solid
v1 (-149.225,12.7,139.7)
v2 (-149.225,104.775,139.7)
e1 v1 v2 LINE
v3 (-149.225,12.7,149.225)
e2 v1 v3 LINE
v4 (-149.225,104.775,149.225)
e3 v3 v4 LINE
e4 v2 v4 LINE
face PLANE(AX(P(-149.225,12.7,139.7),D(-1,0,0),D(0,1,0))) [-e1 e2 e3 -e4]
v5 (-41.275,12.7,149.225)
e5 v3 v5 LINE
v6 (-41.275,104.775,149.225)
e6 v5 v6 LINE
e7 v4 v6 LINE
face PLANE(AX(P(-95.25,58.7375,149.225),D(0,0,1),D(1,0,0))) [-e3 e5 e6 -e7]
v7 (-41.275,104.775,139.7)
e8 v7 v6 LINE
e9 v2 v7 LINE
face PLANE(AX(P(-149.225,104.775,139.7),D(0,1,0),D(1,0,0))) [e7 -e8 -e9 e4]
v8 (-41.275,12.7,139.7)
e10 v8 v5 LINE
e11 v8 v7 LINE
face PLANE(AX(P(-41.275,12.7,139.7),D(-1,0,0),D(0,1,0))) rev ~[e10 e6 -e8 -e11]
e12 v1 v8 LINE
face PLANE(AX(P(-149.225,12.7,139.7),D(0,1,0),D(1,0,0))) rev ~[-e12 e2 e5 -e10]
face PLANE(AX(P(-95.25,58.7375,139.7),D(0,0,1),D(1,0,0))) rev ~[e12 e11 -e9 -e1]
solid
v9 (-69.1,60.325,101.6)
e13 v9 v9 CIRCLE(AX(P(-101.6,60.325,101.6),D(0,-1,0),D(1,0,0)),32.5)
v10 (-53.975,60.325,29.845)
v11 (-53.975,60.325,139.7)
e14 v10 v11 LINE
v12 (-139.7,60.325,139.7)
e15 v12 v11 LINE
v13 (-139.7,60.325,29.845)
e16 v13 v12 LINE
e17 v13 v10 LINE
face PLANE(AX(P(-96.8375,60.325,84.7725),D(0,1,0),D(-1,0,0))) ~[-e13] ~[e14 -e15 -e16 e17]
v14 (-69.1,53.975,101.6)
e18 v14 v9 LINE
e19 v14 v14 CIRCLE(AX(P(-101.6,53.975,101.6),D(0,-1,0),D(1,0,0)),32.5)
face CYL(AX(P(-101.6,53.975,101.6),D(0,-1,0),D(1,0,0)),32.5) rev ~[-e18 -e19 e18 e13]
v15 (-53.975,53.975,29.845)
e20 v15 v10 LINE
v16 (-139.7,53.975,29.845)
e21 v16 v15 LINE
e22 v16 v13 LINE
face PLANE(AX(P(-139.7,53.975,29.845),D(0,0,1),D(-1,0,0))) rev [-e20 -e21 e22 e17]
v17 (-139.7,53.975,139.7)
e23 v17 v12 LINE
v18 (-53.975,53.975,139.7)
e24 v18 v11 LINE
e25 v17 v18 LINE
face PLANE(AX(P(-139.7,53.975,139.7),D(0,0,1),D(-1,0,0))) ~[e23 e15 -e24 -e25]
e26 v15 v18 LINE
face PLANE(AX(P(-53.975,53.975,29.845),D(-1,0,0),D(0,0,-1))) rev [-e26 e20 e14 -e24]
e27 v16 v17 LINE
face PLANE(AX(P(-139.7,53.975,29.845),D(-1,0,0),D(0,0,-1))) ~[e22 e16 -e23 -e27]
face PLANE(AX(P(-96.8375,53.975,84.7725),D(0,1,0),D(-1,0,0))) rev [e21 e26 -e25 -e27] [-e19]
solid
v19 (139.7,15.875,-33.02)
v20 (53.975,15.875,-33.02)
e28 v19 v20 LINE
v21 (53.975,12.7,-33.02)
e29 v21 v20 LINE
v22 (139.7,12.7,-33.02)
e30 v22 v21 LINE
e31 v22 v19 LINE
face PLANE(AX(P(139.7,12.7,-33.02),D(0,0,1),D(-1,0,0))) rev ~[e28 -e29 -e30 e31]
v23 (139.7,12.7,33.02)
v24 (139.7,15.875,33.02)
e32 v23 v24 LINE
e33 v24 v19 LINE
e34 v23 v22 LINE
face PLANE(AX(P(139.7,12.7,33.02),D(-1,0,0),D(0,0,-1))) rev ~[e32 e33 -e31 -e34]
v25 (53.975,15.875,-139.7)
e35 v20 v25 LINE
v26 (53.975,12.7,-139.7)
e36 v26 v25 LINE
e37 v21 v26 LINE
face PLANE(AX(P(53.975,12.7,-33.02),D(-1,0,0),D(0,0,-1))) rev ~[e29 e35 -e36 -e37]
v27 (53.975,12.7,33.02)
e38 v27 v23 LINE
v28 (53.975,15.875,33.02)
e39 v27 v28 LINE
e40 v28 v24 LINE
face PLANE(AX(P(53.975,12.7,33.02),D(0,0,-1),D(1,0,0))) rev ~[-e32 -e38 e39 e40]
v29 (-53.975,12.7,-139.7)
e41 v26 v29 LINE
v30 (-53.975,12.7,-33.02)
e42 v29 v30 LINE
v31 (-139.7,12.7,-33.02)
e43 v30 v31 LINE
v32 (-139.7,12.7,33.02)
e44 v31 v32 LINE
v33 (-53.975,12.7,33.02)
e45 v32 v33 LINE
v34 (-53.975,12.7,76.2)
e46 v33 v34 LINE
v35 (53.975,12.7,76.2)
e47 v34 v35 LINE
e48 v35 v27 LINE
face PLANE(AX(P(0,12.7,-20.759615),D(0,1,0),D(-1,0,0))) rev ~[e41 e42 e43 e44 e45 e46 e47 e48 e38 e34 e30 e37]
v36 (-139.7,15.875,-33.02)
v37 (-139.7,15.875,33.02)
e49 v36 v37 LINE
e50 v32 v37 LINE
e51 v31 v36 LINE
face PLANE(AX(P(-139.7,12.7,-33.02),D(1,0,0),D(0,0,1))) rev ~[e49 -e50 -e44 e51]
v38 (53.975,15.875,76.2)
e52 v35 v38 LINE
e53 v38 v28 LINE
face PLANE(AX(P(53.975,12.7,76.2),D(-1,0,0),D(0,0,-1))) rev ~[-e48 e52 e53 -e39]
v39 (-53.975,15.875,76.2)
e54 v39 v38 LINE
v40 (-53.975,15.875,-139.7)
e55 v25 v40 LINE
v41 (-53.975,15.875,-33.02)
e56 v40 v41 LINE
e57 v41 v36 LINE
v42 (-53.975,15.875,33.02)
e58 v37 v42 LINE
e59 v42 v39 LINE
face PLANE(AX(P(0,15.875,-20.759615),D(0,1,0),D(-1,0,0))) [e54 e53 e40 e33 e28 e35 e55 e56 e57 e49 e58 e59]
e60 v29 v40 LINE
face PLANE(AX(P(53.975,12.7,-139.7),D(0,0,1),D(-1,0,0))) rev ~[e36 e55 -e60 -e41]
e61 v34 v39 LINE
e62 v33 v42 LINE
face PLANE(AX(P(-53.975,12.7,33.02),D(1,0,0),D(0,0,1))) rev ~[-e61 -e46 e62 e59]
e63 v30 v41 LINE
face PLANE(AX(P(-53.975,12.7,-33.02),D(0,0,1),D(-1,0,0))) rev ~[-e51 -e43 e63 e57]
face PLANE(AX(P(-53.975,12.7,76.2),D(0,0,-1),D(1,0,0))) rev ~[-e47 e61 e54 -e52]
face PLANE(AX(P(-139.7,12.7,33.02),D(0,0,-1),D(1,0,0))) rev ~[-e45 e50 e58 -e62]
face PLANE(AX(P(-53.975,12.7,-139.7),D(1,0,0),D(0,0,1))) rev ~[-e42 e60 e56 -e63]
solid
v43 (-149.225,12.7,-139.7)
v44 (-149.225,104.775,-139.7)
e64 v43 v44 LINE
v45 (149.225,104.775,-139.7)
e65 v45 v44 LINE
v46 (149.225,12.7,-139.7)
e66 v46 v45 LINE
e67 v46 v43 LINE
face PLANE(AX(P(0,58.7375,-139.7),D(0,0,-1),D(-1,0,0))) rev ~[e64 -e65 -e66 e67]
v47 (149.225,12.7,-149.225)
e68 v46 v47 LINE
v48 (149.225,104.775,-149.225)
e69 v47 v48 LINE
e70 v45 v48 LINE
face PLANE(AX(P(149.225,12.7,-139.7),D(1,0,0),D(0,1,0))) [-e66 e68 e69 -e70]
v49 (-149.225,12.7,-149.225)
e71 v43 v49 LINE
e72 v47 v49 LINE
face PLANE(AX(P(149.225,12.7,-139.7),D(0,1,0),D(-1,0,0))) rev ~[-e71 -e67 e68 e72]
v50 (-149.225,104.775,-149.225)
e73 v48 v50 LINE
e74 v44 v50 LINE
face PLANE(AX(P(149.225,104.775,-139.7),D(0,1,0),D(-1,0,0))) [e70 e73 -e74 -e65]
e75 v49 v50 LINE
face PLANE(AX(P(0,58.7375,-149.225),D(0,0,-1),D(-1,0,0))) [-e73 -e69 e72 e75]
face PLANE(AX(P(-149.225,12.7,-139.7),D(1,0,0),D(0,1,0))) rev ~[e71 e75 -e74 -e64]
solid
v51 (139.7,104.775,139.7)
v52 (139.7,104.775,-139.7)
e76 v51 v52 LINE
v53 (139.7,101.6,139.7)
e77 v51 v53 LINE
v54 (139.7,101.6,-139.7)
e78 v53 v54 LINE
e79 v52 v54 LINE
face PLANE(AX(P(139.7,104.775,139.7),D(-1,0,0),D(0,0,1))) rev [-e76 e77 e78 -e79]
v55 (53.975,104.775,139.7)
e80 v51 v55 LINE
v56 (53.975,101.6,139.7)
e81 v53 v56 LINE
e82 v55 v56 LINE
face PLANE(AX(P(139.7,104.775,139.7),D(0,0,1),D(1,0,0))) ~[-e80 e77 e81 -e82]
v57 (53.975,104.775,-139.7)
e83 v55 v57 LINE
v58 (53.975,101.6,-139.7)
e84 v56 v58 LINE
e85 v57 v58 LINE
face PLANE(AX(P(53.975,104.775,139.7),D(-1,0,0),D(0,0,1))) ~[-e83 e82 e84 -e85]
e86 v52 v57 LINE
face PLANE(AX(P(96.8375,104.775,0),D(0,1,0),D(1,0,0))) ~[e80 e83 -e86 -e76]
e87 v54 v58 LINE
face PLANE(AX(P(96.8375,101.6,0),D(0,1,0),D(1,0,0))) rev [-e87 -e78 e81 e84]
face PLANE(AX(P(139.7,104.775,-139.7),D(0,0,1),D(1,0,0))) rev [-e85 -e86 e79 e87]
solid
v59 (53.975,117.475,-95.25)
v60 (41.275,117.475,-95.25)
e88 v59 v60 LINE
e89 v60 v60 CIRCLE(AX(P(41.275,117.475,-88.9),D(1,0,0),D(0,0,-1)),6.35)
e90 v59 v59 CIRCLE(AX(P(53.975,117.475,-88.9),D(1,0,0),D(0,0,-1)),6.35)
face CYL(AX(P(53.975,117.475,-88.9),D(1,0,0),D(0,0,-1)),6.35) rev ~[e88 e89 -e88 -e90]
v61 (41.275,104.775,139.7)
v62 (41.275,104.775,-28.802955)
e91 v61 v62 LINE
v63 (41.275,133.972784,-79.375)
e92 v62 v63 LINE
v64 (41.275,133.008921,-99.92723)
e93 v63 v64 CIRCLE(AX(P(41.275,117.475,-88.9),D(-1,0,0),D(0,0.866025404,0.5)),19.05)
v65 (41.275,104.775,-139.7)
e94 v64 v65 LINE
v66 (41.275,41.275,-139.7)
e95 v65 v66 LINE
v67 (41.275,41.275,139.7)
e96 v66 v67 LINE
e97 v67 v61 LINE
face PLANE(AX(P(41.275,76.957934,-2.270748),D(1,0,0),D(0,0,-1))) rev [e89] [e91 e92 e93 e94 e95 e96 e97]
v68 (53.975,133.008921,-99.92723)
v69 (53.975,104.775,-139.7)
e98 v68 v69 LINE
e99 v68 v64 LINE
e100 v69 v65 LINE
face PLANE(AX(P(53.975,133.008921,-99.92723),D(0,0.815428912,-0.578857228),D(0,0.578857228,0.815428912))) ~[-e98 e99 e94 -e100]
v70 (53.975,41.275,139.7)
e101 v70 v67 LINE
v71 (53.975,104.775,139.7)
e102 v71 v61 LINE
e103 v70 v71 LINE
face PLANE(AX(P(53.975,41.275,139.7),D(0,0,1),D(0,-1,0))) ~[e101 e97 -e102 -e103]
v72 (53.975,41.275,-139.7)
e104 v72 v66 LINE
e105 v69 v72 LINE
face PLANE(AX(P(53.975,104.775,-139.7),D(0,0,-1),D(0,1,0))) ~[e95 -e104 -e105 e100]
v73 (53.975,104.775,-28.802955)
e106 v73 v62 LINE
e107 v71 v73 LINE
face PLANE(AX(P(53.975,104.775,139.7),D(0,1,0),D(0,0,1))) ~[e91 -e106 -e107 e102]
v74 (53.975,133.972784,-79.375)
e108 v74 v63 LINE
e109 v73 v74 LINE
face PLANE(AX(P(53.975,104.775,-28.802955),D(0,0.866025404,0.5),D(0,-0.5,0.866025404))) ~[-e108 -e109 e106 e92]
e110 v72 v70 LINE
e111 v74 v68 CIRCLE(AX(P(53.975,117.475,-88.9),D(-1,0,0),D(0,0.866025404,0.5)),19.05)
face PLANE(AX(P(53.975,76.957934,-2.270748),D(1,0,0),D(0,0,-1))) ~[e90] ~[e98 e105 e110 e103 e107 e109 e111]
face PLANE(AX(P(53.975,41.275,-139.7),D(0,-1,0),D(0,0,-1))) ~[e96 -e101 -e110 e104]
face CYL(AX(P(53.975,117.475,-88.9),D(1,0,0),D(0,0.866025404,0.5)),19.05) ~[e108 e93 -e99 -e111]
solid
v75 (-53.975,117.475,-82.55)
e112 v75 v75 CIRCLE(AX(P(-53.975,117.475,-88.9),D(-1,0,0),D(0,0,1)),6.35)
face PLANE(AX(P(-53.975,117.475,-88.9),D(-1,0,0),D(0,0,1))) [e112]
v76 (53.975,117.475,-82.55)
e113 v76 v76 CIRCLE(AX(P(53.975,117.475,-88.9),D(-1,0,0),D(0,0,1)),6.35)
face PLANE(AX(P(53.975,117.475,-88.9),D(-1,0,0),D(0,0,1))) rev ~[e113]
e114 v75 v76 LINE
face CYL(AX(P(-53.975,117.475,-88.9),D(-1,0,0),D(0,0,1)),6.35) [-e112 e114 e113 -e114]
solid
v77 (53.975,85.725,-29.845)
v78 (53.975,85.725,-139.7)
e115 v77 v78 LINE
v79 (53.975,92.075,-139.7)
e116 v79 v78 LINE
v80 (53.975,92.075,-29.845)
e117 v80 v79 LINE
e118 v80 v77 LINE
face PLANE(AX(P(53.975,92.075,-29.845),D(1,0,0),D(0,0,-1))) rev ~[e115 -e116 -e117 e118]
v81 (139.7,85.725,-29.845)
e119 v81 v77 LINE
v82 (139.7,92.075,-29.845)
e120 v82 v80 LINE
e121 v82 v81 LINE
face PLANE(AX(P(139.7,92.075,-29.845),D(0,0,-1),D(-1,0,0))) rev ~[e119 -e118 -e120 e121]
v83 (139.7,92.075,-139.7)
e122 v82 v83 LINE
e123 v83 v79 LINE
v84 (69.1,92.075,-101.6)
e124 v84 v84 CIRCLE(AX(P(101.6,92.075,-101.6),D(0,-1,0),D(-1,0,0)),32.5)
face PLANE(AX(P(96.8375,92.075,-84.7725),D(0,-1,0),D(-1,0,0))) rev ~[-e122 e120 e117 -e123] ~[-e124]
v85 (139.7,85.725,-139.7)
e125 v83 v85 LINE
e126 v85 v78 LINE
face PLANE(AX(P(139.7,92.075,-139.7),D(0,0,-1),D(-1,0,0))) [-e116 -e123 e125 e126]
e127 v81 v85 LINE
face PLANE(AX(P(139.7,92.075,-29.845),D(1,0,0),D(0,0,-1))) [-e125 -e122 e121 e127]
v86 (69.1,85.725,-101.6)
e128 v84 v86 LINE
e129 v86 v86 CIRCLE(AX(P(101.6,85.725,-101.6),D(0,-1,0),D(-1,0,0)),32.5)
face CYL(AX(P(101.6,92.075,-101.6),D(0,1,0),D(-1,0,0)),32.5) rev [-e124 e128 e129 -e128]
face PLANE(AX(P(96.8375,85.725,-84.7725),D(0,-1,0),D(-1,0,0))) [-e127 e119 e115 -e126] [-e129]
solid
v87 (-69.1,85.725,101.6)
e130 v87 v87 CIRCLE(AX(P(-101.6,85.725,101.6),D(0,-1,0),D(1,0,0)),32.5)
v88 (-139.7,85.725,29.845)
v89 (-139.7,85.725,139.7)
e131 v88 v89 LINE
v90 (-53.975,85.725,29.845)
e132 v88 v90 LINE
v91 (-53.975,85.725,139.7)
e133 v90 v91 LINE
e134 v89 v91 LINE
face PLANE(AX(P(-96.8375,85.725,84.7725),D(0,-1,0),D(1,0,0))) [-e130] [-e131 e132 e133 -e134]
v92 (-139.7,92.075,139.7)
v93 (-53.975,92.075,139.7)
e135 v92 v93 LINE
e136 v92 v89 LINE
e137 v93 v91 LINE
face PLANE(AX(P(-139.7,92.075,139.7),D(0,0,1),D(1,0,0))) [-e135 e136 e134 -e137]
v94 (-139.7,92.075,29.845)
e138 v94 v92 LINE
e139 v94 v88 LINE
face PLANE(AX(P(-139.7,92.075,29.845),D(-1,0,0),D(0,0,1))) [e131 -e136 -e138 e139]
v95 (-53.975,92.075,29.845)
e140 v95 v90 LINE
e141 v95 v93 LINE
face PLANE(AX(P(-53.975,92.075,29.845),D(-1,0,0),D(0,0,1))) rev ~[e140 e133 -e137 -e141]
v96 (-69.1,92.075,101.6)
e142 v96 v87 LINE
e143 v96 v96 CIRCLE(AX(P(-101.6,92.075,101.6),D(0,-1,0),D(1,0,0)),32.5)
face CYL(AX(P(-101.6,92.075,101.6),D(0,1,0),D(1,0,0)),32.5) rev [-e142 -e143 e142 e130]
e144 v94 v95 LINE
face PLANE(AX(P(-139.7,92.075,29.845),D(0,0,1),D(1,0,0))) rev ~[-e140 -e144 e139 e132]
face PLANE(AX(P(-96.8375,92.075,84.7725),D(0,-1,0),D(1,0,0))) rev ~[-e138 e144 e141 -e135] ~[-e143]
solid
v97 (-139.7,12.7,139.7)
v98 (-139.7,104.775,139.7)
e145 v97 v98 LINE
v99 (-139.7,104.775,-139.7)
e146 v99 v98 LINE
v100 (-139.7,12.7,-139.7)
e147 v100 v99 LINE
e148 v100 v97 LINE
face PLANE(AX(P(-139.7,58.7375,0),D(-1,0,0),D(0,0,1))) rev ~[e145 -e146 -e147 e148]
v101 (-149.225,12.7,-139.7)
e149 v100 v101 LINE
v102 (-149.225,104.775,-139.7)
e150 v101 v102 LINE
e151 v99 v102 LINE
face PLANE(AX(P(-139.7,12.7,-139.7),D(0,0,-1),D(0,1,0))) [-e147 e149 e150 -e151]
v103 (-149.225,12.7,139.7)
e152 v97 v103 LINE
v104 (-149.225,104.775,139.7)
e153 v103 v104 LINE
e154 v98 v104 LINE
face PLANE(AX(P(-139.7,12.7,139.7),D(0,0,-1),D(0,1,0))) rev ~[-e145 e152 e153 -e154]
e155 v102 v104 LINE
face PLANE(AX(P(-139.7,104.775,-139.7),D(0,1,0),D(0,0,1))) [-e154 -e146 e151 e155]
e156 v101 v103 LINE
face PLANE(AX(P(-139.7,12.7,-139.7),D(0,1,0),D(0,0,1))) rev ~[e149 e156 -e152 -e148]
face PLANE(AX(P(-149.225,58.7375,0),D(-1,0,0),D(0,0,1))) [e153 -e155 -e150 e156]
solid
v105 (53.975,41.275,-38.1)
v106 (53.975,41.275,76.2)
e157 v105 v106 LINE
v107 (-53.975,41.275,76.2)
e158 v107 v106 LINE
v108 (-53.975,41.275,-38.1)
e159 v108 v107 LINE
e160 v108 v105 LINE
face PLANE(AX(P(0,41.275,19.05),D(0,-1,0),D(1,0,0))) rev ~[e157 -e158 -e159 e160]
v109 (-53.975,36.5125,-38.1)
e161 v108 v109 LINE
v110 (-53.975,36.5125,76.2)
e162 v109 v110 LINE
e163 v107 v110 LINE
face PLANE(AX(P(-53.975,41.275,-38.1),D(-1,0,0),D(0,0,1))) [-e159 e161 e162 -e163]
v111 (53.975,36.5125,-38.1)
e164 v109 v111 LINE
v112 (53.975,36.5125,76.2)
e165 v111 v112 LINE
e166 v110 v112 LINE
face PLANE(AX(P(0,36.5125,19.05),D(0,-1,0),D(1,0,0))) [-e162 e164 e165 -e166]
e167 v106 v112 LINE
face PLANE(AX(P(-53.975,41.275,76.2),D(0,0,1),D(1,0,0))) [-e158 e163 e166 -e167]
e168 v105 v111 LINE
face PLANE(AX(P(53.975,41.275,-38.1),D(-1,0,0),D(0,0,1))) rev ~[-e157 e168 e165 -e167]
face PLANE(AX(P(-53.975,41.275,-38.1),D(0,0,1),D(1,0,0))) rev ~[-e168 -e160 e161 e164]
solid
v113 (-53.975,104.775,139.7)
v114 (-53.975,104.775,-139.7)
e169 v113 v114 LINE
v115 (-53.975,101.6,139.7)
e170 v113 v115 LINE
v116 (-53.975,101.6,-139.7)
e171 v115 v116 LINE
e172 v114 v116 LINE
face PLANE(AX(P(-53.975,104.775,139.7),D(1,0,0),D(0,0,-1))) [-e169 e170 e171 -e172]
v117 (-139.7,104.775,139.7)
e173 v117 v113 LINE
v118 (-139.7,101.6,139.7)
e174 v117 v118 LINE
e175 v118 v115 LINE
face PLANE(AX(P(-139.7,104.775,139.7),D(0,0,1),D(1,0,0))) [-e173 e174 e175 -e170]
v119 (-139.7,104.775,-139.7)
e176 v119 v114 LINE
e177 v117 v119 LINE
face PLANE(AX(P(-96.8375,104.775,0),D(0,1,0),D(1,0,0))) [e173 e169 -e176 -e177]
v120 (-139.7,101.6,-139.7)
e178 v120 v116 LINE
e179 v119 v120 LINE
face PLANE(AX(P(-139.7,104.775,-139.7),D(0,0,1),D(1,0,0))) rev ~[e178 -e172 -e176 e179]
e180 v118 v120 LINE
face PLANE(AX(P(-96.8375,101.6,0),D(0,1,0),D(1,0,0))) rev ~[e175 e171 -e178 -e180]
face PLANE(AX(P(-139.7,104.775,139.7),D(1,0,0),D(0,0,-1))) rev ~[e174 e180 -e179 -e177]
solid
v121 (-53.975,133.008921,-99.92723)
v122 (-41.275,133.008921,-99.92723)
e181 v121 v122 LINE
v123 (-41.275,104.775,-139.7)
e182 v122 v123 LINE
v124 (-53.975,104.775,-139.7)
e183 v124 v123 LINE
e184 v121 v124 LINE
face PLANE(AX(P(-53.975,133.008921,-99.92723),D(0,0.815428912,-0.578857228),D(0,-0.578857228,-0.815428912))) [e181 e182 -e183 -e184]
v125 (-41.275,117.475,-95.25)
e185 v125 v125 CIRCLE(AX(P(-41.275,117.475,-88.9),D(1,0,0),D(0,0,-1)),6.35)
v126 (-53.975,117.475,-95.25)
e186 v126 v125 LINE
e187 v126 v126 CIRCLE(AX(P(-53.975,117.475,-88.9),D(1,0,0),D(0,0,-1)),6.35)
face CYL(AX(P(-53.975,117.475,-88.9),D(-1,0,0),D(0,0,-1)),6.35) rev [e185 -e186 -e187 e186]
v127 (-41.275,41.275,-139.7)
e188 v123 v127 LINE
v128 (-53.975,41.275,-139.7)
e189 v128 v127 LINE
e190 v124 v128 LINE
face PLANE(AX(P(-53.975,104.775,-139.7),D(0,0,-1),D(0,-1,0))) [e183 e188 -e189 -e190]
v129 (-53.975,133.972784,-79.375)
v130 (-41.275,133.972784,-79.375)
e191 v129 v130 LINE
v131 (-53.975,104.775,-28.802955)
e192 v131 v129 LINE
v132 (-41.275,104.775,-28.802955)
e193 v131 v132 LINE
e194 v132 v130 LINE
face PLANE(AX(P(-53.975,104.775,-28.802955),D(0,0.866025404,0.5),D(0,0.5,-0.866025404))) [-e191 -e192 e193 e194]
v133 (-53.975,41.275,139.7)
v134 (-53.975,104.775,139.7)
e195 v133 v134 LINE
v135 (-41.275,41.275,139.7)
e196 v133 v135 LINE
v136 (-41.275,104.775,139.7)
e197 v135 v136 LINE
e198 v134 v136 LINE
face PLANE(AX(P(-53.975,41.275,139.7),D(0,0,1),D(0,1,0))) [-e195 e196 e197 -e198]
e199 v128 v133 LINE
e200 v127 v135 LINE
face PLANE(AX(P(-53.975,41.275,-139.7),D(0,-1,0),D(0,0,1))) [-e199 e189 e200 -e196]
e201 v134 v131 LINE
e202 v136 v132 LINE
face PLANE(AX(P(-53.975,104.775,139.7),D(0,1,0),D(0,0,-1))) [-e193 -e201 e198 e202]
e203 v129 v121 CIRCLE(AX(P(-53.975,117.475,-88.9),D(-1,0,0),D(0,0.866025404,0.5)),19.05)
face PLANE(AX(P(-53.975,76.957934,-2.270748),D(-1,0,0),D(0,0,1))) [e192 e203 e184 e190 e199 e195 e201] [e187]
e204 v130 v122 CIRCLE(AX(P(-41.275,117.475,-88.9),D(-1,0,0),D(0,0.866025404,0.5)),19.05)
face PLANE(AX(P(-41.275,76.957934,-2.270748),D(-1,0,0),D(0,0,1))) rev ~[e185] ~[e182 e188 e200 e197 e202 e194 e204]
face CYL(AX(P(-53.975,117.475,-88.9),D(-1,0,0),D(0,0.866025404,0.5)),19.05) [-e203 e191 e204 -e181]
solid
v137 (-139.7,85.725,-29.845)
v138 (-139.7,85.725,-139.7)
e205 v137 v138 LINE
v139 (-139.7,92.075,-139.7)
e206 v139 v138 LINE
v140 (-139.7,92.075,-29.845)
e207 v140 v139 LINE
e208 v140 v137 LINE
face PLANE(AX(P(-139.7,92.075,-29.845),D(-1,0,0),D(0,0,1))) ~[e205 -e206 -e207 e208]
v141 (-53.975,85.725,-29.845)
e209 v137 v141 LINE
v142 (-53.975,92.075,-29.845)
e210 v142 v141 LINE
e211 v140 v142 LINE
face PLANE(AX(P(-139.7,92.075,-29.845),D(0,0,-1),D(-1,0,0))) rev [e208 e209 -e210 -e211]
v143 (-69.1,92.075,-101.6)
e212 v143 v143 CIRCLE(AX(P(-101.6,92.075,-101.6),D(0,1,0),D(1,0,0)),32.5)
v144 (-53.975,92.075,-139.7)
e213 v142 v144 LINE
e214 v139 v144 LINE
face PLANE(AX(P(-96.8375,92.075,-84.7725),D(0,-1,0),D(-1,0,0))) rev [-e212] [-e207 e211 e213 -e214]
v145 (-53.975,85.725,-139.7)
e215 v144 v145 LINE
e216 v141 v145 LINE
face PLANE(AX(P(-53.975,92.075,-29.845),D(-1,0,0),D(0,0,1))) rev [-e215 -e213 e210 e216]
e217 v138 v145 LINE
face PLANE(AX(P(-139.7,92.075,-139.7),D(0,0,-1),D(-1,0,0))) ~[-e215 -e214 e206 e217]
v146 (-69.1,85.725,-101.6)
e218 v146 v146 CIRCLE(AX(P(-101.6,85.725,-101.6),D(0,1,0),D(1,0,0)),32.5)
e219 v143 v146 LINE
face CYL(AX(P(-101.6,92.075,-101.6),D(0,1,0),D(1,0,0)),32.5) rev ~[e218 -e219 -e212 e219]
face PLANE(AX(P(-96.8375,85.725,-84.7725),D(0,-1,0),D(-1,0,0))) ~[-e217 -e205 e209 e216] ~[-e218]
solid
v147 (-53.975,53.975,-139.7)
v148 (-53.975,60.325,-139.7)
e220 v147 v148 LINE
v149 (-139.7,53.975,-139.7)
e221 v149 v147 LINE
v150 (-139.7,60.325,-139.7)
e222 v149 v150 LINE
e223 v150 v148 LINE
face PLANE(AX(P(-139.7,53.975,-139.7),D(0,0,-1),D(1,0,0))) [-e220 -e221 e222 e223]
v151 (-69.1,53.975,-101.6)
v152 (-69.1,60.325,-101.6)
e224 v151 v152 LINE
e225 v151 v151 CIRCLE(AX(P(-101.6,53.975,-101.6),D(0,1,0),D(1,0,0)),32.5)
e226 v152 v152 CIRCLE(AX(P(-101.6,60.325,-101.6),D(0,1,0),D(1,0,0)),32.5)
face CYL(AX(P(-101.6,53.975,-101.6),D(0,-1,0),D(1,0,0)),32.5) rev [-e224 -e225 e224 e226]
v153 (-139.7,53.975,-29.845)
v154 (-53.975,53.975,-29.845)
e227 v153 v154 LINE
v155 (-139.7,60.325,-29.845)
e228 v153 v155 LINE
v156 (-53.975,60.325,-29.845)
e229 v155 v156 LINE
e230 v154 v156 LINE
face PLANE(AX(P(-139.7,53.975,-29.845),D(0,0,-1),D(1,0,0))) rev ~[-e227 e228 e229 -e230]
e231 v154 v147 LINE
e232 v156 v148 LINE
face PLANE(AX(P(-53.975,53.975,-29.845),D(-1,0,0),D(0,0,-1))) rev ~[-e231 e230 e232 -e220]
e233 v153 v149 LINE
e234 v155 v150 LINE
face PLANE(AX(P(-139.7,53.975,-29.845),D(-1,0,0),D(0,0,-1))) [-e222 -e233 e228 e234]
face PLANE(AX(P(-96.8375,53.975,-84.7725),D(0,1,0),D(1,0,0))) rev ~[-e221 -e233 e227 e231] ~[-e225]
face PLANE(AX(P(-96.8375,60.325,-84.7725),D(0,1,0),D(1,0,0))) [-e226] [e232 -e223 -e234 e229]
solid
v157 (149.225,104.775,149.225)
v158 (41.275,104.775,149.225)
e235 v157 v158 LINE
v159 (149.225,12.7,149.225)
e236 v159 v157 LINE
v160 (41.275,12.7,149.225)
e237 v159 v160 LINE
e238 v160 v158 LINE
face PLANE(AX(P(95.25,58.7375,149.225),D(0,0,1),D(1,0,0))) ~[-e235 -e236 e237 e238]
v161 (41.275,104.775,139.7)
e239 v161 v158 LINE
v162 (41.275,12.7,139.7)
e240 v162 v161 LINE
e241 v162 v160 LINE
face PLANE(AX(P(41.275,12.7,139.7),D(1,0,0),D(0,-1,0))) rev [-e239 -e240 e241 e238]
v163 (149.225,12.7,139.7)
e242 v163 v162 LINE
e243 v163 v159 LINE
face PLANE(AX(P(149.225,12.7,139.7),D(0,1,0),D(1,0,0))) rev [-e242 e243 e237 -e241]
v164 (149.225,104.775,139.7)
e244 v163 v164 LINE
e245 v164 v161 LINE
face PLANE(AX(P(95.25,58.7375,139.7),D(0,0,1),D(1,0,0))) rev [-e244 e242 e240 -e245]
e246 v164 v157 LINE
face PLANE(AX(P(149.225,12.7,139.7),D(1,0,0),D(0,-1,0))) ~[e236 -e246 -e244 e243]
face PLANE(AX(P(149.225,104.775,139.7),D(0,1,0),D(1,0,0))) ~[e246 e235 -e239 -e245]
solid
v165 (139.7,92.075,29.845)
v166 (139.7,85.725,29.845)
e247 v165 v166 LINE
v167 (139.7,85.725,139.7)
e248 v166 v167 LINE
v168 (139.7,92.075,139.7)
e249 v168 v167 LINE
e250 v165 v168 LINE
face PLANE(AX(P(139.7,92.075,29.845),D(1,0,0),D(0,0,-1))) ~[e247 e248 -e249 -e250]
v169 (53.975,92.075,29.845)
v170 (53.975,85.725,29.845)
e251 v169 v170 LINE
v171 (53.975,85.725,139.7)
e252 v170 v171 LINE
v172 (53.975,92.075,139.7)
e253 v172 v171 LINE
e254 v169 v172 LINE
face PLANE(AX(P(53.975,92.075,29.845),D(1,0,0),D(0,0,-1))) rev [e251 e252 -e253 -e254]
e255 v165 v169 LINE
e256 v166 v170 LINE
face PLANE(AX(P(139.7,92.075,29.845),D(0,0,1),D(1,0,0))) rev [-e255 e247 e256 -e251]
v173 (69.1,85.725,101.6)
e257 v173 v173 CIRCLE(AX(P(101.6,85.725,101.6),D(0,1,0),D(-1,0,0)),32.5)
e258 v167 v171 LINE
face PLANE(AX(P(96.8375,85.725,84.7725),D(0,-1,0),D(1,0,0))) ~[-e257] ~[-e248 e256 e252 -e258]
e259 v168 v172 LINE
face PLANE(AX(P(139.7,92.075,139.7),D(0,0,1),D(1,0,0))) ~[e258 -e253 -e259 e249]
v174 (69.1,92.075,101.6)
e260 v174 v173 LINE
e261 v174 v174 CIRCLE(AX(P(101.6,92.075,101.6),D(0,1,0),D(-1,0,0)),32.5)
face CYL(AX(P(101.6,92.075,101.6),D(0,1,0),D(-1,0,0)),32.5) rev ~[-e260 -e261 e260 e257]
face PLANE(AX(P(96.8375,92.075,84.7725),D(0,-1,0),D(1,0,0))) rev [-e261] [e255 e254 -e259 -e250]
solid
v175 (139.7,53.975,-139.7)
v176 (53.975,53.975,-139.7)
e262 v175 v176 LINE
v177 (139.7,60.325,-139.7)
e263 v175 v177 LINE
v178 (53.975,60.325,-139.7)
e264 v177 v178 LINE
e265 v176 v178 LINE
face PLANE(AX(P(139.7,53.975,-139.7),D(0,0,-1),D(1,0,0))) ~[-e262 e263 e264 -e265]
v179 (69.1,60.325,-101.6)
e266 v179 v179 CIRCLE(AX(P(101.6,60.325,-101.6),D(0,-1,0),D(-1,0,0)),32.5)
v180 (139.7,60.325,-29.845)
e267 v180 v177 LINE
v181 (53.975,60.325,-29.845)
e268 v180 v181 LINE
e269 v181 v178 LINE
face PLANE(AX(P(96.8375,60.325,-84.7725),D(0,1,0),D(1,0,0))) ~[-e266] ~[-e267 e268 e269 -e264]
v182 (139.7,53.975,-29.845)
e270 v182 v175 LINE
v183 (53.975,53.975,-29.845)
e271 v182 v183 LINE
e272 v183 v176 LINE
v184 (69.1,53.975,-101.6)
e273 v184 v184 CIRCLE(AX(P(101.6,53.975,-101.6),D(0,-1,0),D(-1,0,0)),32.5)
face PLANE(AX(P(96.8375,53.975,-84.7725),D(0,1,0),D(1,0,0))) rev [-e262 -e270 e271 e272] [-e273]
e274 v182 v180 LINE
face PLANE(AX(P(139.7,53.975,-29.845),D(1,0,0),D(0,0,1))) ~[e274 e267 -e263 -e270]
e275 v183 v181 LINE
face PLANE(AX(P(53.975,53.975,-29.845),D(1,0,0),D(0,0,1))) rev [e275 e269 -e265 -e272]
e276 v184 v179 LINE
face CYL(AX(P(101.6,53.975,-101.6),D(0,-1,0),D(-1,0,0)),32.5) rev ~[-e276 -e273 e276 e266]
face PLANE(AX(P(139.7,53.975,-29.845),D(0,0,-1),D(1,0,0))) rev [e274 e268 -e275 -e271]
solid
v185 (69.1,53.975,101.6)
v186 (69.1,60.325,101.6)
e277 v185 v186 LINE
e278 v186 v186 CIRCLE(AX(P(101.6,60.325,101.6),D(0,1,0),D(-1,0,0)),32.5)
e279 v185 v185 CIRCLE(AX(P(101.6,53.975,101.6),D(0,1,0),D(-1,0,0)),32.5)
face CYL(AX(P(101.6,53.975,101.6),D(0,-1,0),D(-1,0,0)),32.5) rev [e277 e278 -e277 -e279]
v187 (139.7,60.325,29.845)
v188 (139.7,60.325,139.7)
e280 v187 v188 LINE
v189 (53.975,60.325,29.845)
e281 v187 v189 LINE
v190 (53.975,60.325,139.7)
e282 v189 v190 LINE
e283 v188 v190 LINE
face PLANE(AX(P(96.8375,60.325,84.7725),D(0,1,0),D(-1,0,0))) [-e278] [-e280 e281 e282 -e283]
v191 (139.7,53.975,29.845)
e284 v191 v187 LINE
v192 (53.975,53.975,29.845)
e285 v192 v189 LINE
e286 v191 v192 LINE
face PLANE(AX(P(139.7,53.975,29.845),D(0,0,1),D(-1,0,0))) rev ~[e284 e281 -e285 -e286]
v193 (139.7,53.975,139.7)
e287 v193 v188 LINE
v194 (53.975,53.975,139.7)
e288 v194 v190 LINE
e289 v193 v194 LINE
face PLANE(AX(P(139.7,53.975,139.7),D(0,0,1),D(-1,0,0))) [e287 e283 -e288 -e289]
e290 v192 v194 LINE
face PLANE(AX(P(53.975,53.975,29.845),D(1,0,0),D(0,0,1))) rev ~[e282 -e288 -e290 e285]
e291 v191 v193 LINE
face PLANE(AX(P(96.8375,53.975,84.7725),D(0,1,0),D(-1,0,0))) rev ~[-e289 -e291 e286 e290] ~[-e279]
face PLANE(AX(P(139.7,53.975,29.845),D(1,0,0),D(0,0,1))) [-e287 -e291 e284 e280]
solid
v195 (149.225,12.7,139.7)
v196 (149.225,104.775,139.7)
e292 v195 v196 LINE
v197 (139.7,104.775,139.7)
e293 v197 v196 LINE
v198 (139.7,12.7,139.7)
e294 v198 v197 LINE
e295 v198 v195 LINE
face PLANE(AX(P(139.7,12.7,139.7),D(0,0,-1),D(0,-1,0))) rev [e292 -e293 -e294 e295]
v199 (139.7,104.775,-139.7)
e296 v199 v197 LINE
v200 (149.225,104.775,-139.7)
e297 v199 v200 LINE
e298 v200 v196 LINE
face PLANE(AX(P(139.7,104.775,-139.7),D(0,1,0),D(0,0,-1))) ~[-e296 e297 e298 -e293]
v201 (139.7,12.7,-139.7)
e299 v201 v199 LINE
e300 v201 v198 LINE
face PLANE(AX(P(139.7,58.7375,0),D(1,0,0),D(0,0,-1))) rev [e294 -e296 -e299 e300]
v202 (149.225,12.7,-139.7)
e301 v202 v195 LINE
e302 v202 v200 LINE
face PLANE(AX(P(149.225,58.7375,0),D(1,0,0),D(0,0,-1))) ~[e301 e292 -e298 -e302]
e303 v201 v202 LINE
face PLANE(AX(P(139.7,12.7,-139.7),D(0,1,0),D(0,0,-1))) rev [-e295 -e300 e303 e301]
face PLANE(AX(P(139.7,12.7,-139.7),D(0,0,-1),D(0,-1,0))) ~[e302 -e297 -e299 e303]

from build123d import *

# Parameters (mm, degrees)
SKETCH3_W           = 85.725
SKETCH3_H           = 109.855
SKETCH3_R           = 32.5
BOSS_EXTRUDE1_DEPTH = 6.35
SKETCH7_R           = 6.35
BOSS_EXTRUDE2_DEPTH = 12.7
SKETCH8_W           = 107.95
SKETCH8_H           = 92.075
BOSS_EXTRUDE3_DEPTH = 9.525
SKETCH10_W          = 279.4
SKETCH10_H          = 92.075
BOSS_EXTRUDE4_DEPTH = 9.525
SKETCH13_W          = 85.725
SKETCH13_H          = 279.4
BOSS_EXTRUDE7_DEPTH = 3.175
SKETCH11_W          = 298.45
SKETCH11_H          = 92.075
BOSS_EXTRUDE5_DEPTH = 9.525
SKETCH12_W          = 107.95
SKETCH12_H          = 114.3
BOSS_EXTRUDE6_DEPTH = 4.7625
BOSS_EXTRUDE8_DEPTH = 3.175
SKETCH15_R          = 6.35
BOSS_EXTRUDE9_DEPTH = 107.95


with BuildPart() as part:
    # Sketch3 → Boss-Extrude1 (new body)
    with BuildSketch(Plane(origin=(0, 53.975, 0), x_dir=(1, 0, 0), z_dir=(0, 1, 0))):
        with Locations((-96.8375, 84.7725)):
            Rectangle(SKETCH3_W, SKETCH3_H)
        with Locations((-101.6, 101.6)):
            Circle(SKETCH3_R, mode=Mode.SUBTRACT)
    extrude(amount=BOSS_EXTRUDE1_DEPTH)


with BuildPart() as body_2:
    # Mirror1: mirrored copy
    add(part.part.mirror(Plane.ZX.offset(73.025)))


with BuildPart() as body_3:
    # Mirror2: mirrored copy
    add(part.part.mirror(Plane.XY))


with BuildPart() as body_4:
    # Mirror2 2: mirrored copy
    add(body_2.part.mirror(Plane.XY))


with BuildPart() as body_5:
    # Sketch7 → Boss-Extrude2 (new body)
    with BuildSketch(Plane(origin=(-53.975, 0, 0), x_dir=(0, 0, -1), z_dir=(1, 0, 0))):
        with BuildLine():
            Line((99.927230191, 133.008920764), (139.7, 104.775))
            Line((139.7, 104.775), (139.7, 41.275))
            Line((139.7, 41.275), (-139.7, 41.275))
            Line((-139.7, 41.275), (-139.7, 104.775))
            Line((-139.7, 104.775), (28.802954744, 104.775))
            Line((28.802954744, 104.775), (79.375, 133.972783942))
            ThreePointArc((79.375, 133.972783942), (89.792430358, 136.504084793), (99.927230191, 133.008920764))
        make_face()
        with Locations((88.9, 117.475)):
            Circle(SKETCH7_R, mode=Mode.SUBTRACT)
    extrude(amount=BOSS_EXTRUDE2_DEPTH)


with BuildPart() as body_6:
    # Sketch8 → Boss-Extrude3 (new body)
    with BuildSketch(Plane.XY.offset(139.7)):
        with Locations((-95.25, 58.7375)):
            Rectangle(SKETCH8_W, SKETCH8_H)
    extrude(amount=BOSS_EXTRUDE3_DEPTH)


with BuildPart() as body_7:
    # Sketch10 → Boss-Extrude4 (new body)
    with BuildSketch(Plane.ZY.offset(139.7)):
        with Locations((0, 58.7375)):
            Rectangle(SKETCH10_W, SKETCH10_H)
    extrude(amount=BOSS_EXTRUDE4_DEPTH)


with BuildPart() as body_8:
    # Sketch13 → Boss-Extrude7 (new body)
    with BuildSketch(Plane(origin=(0, 104.775, 0), x_dir=(1, 0, 0), z_dir=(0, 1, 0))):
        with Locations((-96.8375, 0)):
            Rectangle(SKETCH13_W, SKETCH13_H)
    extrude(amount=-BOSS_EXTRUDE7_DEPTH)


with BuildPart() as body_9:
    # Mirror3: mirrored copy
    add(body_3.part.mirror(Plane(origin=(0, 0, 0), x_dir=(0, 0, 1), z_dir=(1, 0, 0))))


with BuildPart() as body_10:
    # Mirror3 2: mirrored copy
    add(body_4.part.mirror(Plane(origin=(0, 0, 0), x_dir=(0, 0, 1), z_dir=(1, 0, 0))))


with BuildPart() as body_11:
    # Mirror3 3: mirrored copy
    add(part.part.mirror(Plane(origin=(0, 0, 0), x_dir=(0, 0, 1), z_dir=(1, 0, 0))))


with BuildPart() as body_12:
    # Mirror3 4: mirrored copy
    add(body_2.part.mirror(Plane(origin=(0, 0, 0), x_dir=(0, 0, 1), z_dir=(1, 0, 0))))


with BuildPart() as body_13:
    # Mirror3 5: mirrored copy
    add(body_5.part.mirror(Plane(origin=(0, 0, 0), x_dir=(0, 0, 1), z_dir=(1, 0, 0))))


with BuildPart() as body_14:
    # Mirror3 6: mirrored copy
    add(body_7.part.mirror(Plane(origin=(0, 0, 0), x_dir=(0, 0, 1), z_dir=(1, 0, 0))))


with BuildPart() as body_15:
    # Mirror3 7: mirrored copy
    add(body_6.part.mirror(Plane(origin=(0, 0, 0), x_dir=(0, 0, 1), z_dir=(1, 0, 0))))


with BuildPart() as body_16:
    # Mirror3 8: mirrored copy
    add(body_8.part.mirror(Plane(origin=(0, 0, 0), x_dir=(0, 0, 1), z_dir=(1, 0, 0))))


with BuildPart() as body_17:
    # Sketch11 → Boss-Extrude5 (new body)
    with BuildSketch(Plane(origin=(0, 0, -139.7), x_dir=(-1, 0, 0), z_dir=(0, 0, -1))):
        with Locations((0, 58.7375)):
            Rectangle(SKETCH11_W, SKETCH11_H)
    extrude(amount=BOSS_EXTRUDE5_DEPTH)


with BuildPart() as body_18:
    # Sketch12 → Boss-Extrude6 (new body)
    with BuildSketch(Plane.XZ.offset(-41.275)):
        with Locations((0, 19.05)):
            Rectangle(SKETCH12_W, SKETCH12_H)
    extrude(amount=BOSS_EXTRUDE6_DEPTH)


with BuildPart() as body_19:
    # Sketch14 → Boss-Extrude8 (new body)
    with BuildSketch(Plane.XZ.offset(-12.7)):
        Polygon((-139.7, 33.02), (-53.975, 33.02), (-53.975, 76.2), (53.975, 76.2), (53.975, 33.02), (139.7, 33.02), (139.7, -33.02), (53.975, -33.02), (53.975, -139.7), (-53.975, -139.7), (-53.975, -33.02), (-139.7, -33.02), align=None)
    extrude(amount=-BOSS_EXTRUDE8_DEPTH)


with BuildPart() as body_20:
    # Sketch15 → Boss-Extrude9 (new body)
    with BuildSketch(Plane.ZY.offset(53.975)):
        with Locations((-88.9, 117.475)):
            Circle(SKETCH15_R)
    extrude(amount=-BOSS_EXTRUDE9_DEPTH)


solid = Compound([part.part, body_2.part, body_3.part, body_4.part, body_5.part, body_6.part, body_7.part, body_8.part, body_9.part, body_10.part, body_11.part, body_12.part, body_13.part, body_14.part, body_15.part, body_16.part, body_17.part, body_18.part, body_19.part, body_20.part])
